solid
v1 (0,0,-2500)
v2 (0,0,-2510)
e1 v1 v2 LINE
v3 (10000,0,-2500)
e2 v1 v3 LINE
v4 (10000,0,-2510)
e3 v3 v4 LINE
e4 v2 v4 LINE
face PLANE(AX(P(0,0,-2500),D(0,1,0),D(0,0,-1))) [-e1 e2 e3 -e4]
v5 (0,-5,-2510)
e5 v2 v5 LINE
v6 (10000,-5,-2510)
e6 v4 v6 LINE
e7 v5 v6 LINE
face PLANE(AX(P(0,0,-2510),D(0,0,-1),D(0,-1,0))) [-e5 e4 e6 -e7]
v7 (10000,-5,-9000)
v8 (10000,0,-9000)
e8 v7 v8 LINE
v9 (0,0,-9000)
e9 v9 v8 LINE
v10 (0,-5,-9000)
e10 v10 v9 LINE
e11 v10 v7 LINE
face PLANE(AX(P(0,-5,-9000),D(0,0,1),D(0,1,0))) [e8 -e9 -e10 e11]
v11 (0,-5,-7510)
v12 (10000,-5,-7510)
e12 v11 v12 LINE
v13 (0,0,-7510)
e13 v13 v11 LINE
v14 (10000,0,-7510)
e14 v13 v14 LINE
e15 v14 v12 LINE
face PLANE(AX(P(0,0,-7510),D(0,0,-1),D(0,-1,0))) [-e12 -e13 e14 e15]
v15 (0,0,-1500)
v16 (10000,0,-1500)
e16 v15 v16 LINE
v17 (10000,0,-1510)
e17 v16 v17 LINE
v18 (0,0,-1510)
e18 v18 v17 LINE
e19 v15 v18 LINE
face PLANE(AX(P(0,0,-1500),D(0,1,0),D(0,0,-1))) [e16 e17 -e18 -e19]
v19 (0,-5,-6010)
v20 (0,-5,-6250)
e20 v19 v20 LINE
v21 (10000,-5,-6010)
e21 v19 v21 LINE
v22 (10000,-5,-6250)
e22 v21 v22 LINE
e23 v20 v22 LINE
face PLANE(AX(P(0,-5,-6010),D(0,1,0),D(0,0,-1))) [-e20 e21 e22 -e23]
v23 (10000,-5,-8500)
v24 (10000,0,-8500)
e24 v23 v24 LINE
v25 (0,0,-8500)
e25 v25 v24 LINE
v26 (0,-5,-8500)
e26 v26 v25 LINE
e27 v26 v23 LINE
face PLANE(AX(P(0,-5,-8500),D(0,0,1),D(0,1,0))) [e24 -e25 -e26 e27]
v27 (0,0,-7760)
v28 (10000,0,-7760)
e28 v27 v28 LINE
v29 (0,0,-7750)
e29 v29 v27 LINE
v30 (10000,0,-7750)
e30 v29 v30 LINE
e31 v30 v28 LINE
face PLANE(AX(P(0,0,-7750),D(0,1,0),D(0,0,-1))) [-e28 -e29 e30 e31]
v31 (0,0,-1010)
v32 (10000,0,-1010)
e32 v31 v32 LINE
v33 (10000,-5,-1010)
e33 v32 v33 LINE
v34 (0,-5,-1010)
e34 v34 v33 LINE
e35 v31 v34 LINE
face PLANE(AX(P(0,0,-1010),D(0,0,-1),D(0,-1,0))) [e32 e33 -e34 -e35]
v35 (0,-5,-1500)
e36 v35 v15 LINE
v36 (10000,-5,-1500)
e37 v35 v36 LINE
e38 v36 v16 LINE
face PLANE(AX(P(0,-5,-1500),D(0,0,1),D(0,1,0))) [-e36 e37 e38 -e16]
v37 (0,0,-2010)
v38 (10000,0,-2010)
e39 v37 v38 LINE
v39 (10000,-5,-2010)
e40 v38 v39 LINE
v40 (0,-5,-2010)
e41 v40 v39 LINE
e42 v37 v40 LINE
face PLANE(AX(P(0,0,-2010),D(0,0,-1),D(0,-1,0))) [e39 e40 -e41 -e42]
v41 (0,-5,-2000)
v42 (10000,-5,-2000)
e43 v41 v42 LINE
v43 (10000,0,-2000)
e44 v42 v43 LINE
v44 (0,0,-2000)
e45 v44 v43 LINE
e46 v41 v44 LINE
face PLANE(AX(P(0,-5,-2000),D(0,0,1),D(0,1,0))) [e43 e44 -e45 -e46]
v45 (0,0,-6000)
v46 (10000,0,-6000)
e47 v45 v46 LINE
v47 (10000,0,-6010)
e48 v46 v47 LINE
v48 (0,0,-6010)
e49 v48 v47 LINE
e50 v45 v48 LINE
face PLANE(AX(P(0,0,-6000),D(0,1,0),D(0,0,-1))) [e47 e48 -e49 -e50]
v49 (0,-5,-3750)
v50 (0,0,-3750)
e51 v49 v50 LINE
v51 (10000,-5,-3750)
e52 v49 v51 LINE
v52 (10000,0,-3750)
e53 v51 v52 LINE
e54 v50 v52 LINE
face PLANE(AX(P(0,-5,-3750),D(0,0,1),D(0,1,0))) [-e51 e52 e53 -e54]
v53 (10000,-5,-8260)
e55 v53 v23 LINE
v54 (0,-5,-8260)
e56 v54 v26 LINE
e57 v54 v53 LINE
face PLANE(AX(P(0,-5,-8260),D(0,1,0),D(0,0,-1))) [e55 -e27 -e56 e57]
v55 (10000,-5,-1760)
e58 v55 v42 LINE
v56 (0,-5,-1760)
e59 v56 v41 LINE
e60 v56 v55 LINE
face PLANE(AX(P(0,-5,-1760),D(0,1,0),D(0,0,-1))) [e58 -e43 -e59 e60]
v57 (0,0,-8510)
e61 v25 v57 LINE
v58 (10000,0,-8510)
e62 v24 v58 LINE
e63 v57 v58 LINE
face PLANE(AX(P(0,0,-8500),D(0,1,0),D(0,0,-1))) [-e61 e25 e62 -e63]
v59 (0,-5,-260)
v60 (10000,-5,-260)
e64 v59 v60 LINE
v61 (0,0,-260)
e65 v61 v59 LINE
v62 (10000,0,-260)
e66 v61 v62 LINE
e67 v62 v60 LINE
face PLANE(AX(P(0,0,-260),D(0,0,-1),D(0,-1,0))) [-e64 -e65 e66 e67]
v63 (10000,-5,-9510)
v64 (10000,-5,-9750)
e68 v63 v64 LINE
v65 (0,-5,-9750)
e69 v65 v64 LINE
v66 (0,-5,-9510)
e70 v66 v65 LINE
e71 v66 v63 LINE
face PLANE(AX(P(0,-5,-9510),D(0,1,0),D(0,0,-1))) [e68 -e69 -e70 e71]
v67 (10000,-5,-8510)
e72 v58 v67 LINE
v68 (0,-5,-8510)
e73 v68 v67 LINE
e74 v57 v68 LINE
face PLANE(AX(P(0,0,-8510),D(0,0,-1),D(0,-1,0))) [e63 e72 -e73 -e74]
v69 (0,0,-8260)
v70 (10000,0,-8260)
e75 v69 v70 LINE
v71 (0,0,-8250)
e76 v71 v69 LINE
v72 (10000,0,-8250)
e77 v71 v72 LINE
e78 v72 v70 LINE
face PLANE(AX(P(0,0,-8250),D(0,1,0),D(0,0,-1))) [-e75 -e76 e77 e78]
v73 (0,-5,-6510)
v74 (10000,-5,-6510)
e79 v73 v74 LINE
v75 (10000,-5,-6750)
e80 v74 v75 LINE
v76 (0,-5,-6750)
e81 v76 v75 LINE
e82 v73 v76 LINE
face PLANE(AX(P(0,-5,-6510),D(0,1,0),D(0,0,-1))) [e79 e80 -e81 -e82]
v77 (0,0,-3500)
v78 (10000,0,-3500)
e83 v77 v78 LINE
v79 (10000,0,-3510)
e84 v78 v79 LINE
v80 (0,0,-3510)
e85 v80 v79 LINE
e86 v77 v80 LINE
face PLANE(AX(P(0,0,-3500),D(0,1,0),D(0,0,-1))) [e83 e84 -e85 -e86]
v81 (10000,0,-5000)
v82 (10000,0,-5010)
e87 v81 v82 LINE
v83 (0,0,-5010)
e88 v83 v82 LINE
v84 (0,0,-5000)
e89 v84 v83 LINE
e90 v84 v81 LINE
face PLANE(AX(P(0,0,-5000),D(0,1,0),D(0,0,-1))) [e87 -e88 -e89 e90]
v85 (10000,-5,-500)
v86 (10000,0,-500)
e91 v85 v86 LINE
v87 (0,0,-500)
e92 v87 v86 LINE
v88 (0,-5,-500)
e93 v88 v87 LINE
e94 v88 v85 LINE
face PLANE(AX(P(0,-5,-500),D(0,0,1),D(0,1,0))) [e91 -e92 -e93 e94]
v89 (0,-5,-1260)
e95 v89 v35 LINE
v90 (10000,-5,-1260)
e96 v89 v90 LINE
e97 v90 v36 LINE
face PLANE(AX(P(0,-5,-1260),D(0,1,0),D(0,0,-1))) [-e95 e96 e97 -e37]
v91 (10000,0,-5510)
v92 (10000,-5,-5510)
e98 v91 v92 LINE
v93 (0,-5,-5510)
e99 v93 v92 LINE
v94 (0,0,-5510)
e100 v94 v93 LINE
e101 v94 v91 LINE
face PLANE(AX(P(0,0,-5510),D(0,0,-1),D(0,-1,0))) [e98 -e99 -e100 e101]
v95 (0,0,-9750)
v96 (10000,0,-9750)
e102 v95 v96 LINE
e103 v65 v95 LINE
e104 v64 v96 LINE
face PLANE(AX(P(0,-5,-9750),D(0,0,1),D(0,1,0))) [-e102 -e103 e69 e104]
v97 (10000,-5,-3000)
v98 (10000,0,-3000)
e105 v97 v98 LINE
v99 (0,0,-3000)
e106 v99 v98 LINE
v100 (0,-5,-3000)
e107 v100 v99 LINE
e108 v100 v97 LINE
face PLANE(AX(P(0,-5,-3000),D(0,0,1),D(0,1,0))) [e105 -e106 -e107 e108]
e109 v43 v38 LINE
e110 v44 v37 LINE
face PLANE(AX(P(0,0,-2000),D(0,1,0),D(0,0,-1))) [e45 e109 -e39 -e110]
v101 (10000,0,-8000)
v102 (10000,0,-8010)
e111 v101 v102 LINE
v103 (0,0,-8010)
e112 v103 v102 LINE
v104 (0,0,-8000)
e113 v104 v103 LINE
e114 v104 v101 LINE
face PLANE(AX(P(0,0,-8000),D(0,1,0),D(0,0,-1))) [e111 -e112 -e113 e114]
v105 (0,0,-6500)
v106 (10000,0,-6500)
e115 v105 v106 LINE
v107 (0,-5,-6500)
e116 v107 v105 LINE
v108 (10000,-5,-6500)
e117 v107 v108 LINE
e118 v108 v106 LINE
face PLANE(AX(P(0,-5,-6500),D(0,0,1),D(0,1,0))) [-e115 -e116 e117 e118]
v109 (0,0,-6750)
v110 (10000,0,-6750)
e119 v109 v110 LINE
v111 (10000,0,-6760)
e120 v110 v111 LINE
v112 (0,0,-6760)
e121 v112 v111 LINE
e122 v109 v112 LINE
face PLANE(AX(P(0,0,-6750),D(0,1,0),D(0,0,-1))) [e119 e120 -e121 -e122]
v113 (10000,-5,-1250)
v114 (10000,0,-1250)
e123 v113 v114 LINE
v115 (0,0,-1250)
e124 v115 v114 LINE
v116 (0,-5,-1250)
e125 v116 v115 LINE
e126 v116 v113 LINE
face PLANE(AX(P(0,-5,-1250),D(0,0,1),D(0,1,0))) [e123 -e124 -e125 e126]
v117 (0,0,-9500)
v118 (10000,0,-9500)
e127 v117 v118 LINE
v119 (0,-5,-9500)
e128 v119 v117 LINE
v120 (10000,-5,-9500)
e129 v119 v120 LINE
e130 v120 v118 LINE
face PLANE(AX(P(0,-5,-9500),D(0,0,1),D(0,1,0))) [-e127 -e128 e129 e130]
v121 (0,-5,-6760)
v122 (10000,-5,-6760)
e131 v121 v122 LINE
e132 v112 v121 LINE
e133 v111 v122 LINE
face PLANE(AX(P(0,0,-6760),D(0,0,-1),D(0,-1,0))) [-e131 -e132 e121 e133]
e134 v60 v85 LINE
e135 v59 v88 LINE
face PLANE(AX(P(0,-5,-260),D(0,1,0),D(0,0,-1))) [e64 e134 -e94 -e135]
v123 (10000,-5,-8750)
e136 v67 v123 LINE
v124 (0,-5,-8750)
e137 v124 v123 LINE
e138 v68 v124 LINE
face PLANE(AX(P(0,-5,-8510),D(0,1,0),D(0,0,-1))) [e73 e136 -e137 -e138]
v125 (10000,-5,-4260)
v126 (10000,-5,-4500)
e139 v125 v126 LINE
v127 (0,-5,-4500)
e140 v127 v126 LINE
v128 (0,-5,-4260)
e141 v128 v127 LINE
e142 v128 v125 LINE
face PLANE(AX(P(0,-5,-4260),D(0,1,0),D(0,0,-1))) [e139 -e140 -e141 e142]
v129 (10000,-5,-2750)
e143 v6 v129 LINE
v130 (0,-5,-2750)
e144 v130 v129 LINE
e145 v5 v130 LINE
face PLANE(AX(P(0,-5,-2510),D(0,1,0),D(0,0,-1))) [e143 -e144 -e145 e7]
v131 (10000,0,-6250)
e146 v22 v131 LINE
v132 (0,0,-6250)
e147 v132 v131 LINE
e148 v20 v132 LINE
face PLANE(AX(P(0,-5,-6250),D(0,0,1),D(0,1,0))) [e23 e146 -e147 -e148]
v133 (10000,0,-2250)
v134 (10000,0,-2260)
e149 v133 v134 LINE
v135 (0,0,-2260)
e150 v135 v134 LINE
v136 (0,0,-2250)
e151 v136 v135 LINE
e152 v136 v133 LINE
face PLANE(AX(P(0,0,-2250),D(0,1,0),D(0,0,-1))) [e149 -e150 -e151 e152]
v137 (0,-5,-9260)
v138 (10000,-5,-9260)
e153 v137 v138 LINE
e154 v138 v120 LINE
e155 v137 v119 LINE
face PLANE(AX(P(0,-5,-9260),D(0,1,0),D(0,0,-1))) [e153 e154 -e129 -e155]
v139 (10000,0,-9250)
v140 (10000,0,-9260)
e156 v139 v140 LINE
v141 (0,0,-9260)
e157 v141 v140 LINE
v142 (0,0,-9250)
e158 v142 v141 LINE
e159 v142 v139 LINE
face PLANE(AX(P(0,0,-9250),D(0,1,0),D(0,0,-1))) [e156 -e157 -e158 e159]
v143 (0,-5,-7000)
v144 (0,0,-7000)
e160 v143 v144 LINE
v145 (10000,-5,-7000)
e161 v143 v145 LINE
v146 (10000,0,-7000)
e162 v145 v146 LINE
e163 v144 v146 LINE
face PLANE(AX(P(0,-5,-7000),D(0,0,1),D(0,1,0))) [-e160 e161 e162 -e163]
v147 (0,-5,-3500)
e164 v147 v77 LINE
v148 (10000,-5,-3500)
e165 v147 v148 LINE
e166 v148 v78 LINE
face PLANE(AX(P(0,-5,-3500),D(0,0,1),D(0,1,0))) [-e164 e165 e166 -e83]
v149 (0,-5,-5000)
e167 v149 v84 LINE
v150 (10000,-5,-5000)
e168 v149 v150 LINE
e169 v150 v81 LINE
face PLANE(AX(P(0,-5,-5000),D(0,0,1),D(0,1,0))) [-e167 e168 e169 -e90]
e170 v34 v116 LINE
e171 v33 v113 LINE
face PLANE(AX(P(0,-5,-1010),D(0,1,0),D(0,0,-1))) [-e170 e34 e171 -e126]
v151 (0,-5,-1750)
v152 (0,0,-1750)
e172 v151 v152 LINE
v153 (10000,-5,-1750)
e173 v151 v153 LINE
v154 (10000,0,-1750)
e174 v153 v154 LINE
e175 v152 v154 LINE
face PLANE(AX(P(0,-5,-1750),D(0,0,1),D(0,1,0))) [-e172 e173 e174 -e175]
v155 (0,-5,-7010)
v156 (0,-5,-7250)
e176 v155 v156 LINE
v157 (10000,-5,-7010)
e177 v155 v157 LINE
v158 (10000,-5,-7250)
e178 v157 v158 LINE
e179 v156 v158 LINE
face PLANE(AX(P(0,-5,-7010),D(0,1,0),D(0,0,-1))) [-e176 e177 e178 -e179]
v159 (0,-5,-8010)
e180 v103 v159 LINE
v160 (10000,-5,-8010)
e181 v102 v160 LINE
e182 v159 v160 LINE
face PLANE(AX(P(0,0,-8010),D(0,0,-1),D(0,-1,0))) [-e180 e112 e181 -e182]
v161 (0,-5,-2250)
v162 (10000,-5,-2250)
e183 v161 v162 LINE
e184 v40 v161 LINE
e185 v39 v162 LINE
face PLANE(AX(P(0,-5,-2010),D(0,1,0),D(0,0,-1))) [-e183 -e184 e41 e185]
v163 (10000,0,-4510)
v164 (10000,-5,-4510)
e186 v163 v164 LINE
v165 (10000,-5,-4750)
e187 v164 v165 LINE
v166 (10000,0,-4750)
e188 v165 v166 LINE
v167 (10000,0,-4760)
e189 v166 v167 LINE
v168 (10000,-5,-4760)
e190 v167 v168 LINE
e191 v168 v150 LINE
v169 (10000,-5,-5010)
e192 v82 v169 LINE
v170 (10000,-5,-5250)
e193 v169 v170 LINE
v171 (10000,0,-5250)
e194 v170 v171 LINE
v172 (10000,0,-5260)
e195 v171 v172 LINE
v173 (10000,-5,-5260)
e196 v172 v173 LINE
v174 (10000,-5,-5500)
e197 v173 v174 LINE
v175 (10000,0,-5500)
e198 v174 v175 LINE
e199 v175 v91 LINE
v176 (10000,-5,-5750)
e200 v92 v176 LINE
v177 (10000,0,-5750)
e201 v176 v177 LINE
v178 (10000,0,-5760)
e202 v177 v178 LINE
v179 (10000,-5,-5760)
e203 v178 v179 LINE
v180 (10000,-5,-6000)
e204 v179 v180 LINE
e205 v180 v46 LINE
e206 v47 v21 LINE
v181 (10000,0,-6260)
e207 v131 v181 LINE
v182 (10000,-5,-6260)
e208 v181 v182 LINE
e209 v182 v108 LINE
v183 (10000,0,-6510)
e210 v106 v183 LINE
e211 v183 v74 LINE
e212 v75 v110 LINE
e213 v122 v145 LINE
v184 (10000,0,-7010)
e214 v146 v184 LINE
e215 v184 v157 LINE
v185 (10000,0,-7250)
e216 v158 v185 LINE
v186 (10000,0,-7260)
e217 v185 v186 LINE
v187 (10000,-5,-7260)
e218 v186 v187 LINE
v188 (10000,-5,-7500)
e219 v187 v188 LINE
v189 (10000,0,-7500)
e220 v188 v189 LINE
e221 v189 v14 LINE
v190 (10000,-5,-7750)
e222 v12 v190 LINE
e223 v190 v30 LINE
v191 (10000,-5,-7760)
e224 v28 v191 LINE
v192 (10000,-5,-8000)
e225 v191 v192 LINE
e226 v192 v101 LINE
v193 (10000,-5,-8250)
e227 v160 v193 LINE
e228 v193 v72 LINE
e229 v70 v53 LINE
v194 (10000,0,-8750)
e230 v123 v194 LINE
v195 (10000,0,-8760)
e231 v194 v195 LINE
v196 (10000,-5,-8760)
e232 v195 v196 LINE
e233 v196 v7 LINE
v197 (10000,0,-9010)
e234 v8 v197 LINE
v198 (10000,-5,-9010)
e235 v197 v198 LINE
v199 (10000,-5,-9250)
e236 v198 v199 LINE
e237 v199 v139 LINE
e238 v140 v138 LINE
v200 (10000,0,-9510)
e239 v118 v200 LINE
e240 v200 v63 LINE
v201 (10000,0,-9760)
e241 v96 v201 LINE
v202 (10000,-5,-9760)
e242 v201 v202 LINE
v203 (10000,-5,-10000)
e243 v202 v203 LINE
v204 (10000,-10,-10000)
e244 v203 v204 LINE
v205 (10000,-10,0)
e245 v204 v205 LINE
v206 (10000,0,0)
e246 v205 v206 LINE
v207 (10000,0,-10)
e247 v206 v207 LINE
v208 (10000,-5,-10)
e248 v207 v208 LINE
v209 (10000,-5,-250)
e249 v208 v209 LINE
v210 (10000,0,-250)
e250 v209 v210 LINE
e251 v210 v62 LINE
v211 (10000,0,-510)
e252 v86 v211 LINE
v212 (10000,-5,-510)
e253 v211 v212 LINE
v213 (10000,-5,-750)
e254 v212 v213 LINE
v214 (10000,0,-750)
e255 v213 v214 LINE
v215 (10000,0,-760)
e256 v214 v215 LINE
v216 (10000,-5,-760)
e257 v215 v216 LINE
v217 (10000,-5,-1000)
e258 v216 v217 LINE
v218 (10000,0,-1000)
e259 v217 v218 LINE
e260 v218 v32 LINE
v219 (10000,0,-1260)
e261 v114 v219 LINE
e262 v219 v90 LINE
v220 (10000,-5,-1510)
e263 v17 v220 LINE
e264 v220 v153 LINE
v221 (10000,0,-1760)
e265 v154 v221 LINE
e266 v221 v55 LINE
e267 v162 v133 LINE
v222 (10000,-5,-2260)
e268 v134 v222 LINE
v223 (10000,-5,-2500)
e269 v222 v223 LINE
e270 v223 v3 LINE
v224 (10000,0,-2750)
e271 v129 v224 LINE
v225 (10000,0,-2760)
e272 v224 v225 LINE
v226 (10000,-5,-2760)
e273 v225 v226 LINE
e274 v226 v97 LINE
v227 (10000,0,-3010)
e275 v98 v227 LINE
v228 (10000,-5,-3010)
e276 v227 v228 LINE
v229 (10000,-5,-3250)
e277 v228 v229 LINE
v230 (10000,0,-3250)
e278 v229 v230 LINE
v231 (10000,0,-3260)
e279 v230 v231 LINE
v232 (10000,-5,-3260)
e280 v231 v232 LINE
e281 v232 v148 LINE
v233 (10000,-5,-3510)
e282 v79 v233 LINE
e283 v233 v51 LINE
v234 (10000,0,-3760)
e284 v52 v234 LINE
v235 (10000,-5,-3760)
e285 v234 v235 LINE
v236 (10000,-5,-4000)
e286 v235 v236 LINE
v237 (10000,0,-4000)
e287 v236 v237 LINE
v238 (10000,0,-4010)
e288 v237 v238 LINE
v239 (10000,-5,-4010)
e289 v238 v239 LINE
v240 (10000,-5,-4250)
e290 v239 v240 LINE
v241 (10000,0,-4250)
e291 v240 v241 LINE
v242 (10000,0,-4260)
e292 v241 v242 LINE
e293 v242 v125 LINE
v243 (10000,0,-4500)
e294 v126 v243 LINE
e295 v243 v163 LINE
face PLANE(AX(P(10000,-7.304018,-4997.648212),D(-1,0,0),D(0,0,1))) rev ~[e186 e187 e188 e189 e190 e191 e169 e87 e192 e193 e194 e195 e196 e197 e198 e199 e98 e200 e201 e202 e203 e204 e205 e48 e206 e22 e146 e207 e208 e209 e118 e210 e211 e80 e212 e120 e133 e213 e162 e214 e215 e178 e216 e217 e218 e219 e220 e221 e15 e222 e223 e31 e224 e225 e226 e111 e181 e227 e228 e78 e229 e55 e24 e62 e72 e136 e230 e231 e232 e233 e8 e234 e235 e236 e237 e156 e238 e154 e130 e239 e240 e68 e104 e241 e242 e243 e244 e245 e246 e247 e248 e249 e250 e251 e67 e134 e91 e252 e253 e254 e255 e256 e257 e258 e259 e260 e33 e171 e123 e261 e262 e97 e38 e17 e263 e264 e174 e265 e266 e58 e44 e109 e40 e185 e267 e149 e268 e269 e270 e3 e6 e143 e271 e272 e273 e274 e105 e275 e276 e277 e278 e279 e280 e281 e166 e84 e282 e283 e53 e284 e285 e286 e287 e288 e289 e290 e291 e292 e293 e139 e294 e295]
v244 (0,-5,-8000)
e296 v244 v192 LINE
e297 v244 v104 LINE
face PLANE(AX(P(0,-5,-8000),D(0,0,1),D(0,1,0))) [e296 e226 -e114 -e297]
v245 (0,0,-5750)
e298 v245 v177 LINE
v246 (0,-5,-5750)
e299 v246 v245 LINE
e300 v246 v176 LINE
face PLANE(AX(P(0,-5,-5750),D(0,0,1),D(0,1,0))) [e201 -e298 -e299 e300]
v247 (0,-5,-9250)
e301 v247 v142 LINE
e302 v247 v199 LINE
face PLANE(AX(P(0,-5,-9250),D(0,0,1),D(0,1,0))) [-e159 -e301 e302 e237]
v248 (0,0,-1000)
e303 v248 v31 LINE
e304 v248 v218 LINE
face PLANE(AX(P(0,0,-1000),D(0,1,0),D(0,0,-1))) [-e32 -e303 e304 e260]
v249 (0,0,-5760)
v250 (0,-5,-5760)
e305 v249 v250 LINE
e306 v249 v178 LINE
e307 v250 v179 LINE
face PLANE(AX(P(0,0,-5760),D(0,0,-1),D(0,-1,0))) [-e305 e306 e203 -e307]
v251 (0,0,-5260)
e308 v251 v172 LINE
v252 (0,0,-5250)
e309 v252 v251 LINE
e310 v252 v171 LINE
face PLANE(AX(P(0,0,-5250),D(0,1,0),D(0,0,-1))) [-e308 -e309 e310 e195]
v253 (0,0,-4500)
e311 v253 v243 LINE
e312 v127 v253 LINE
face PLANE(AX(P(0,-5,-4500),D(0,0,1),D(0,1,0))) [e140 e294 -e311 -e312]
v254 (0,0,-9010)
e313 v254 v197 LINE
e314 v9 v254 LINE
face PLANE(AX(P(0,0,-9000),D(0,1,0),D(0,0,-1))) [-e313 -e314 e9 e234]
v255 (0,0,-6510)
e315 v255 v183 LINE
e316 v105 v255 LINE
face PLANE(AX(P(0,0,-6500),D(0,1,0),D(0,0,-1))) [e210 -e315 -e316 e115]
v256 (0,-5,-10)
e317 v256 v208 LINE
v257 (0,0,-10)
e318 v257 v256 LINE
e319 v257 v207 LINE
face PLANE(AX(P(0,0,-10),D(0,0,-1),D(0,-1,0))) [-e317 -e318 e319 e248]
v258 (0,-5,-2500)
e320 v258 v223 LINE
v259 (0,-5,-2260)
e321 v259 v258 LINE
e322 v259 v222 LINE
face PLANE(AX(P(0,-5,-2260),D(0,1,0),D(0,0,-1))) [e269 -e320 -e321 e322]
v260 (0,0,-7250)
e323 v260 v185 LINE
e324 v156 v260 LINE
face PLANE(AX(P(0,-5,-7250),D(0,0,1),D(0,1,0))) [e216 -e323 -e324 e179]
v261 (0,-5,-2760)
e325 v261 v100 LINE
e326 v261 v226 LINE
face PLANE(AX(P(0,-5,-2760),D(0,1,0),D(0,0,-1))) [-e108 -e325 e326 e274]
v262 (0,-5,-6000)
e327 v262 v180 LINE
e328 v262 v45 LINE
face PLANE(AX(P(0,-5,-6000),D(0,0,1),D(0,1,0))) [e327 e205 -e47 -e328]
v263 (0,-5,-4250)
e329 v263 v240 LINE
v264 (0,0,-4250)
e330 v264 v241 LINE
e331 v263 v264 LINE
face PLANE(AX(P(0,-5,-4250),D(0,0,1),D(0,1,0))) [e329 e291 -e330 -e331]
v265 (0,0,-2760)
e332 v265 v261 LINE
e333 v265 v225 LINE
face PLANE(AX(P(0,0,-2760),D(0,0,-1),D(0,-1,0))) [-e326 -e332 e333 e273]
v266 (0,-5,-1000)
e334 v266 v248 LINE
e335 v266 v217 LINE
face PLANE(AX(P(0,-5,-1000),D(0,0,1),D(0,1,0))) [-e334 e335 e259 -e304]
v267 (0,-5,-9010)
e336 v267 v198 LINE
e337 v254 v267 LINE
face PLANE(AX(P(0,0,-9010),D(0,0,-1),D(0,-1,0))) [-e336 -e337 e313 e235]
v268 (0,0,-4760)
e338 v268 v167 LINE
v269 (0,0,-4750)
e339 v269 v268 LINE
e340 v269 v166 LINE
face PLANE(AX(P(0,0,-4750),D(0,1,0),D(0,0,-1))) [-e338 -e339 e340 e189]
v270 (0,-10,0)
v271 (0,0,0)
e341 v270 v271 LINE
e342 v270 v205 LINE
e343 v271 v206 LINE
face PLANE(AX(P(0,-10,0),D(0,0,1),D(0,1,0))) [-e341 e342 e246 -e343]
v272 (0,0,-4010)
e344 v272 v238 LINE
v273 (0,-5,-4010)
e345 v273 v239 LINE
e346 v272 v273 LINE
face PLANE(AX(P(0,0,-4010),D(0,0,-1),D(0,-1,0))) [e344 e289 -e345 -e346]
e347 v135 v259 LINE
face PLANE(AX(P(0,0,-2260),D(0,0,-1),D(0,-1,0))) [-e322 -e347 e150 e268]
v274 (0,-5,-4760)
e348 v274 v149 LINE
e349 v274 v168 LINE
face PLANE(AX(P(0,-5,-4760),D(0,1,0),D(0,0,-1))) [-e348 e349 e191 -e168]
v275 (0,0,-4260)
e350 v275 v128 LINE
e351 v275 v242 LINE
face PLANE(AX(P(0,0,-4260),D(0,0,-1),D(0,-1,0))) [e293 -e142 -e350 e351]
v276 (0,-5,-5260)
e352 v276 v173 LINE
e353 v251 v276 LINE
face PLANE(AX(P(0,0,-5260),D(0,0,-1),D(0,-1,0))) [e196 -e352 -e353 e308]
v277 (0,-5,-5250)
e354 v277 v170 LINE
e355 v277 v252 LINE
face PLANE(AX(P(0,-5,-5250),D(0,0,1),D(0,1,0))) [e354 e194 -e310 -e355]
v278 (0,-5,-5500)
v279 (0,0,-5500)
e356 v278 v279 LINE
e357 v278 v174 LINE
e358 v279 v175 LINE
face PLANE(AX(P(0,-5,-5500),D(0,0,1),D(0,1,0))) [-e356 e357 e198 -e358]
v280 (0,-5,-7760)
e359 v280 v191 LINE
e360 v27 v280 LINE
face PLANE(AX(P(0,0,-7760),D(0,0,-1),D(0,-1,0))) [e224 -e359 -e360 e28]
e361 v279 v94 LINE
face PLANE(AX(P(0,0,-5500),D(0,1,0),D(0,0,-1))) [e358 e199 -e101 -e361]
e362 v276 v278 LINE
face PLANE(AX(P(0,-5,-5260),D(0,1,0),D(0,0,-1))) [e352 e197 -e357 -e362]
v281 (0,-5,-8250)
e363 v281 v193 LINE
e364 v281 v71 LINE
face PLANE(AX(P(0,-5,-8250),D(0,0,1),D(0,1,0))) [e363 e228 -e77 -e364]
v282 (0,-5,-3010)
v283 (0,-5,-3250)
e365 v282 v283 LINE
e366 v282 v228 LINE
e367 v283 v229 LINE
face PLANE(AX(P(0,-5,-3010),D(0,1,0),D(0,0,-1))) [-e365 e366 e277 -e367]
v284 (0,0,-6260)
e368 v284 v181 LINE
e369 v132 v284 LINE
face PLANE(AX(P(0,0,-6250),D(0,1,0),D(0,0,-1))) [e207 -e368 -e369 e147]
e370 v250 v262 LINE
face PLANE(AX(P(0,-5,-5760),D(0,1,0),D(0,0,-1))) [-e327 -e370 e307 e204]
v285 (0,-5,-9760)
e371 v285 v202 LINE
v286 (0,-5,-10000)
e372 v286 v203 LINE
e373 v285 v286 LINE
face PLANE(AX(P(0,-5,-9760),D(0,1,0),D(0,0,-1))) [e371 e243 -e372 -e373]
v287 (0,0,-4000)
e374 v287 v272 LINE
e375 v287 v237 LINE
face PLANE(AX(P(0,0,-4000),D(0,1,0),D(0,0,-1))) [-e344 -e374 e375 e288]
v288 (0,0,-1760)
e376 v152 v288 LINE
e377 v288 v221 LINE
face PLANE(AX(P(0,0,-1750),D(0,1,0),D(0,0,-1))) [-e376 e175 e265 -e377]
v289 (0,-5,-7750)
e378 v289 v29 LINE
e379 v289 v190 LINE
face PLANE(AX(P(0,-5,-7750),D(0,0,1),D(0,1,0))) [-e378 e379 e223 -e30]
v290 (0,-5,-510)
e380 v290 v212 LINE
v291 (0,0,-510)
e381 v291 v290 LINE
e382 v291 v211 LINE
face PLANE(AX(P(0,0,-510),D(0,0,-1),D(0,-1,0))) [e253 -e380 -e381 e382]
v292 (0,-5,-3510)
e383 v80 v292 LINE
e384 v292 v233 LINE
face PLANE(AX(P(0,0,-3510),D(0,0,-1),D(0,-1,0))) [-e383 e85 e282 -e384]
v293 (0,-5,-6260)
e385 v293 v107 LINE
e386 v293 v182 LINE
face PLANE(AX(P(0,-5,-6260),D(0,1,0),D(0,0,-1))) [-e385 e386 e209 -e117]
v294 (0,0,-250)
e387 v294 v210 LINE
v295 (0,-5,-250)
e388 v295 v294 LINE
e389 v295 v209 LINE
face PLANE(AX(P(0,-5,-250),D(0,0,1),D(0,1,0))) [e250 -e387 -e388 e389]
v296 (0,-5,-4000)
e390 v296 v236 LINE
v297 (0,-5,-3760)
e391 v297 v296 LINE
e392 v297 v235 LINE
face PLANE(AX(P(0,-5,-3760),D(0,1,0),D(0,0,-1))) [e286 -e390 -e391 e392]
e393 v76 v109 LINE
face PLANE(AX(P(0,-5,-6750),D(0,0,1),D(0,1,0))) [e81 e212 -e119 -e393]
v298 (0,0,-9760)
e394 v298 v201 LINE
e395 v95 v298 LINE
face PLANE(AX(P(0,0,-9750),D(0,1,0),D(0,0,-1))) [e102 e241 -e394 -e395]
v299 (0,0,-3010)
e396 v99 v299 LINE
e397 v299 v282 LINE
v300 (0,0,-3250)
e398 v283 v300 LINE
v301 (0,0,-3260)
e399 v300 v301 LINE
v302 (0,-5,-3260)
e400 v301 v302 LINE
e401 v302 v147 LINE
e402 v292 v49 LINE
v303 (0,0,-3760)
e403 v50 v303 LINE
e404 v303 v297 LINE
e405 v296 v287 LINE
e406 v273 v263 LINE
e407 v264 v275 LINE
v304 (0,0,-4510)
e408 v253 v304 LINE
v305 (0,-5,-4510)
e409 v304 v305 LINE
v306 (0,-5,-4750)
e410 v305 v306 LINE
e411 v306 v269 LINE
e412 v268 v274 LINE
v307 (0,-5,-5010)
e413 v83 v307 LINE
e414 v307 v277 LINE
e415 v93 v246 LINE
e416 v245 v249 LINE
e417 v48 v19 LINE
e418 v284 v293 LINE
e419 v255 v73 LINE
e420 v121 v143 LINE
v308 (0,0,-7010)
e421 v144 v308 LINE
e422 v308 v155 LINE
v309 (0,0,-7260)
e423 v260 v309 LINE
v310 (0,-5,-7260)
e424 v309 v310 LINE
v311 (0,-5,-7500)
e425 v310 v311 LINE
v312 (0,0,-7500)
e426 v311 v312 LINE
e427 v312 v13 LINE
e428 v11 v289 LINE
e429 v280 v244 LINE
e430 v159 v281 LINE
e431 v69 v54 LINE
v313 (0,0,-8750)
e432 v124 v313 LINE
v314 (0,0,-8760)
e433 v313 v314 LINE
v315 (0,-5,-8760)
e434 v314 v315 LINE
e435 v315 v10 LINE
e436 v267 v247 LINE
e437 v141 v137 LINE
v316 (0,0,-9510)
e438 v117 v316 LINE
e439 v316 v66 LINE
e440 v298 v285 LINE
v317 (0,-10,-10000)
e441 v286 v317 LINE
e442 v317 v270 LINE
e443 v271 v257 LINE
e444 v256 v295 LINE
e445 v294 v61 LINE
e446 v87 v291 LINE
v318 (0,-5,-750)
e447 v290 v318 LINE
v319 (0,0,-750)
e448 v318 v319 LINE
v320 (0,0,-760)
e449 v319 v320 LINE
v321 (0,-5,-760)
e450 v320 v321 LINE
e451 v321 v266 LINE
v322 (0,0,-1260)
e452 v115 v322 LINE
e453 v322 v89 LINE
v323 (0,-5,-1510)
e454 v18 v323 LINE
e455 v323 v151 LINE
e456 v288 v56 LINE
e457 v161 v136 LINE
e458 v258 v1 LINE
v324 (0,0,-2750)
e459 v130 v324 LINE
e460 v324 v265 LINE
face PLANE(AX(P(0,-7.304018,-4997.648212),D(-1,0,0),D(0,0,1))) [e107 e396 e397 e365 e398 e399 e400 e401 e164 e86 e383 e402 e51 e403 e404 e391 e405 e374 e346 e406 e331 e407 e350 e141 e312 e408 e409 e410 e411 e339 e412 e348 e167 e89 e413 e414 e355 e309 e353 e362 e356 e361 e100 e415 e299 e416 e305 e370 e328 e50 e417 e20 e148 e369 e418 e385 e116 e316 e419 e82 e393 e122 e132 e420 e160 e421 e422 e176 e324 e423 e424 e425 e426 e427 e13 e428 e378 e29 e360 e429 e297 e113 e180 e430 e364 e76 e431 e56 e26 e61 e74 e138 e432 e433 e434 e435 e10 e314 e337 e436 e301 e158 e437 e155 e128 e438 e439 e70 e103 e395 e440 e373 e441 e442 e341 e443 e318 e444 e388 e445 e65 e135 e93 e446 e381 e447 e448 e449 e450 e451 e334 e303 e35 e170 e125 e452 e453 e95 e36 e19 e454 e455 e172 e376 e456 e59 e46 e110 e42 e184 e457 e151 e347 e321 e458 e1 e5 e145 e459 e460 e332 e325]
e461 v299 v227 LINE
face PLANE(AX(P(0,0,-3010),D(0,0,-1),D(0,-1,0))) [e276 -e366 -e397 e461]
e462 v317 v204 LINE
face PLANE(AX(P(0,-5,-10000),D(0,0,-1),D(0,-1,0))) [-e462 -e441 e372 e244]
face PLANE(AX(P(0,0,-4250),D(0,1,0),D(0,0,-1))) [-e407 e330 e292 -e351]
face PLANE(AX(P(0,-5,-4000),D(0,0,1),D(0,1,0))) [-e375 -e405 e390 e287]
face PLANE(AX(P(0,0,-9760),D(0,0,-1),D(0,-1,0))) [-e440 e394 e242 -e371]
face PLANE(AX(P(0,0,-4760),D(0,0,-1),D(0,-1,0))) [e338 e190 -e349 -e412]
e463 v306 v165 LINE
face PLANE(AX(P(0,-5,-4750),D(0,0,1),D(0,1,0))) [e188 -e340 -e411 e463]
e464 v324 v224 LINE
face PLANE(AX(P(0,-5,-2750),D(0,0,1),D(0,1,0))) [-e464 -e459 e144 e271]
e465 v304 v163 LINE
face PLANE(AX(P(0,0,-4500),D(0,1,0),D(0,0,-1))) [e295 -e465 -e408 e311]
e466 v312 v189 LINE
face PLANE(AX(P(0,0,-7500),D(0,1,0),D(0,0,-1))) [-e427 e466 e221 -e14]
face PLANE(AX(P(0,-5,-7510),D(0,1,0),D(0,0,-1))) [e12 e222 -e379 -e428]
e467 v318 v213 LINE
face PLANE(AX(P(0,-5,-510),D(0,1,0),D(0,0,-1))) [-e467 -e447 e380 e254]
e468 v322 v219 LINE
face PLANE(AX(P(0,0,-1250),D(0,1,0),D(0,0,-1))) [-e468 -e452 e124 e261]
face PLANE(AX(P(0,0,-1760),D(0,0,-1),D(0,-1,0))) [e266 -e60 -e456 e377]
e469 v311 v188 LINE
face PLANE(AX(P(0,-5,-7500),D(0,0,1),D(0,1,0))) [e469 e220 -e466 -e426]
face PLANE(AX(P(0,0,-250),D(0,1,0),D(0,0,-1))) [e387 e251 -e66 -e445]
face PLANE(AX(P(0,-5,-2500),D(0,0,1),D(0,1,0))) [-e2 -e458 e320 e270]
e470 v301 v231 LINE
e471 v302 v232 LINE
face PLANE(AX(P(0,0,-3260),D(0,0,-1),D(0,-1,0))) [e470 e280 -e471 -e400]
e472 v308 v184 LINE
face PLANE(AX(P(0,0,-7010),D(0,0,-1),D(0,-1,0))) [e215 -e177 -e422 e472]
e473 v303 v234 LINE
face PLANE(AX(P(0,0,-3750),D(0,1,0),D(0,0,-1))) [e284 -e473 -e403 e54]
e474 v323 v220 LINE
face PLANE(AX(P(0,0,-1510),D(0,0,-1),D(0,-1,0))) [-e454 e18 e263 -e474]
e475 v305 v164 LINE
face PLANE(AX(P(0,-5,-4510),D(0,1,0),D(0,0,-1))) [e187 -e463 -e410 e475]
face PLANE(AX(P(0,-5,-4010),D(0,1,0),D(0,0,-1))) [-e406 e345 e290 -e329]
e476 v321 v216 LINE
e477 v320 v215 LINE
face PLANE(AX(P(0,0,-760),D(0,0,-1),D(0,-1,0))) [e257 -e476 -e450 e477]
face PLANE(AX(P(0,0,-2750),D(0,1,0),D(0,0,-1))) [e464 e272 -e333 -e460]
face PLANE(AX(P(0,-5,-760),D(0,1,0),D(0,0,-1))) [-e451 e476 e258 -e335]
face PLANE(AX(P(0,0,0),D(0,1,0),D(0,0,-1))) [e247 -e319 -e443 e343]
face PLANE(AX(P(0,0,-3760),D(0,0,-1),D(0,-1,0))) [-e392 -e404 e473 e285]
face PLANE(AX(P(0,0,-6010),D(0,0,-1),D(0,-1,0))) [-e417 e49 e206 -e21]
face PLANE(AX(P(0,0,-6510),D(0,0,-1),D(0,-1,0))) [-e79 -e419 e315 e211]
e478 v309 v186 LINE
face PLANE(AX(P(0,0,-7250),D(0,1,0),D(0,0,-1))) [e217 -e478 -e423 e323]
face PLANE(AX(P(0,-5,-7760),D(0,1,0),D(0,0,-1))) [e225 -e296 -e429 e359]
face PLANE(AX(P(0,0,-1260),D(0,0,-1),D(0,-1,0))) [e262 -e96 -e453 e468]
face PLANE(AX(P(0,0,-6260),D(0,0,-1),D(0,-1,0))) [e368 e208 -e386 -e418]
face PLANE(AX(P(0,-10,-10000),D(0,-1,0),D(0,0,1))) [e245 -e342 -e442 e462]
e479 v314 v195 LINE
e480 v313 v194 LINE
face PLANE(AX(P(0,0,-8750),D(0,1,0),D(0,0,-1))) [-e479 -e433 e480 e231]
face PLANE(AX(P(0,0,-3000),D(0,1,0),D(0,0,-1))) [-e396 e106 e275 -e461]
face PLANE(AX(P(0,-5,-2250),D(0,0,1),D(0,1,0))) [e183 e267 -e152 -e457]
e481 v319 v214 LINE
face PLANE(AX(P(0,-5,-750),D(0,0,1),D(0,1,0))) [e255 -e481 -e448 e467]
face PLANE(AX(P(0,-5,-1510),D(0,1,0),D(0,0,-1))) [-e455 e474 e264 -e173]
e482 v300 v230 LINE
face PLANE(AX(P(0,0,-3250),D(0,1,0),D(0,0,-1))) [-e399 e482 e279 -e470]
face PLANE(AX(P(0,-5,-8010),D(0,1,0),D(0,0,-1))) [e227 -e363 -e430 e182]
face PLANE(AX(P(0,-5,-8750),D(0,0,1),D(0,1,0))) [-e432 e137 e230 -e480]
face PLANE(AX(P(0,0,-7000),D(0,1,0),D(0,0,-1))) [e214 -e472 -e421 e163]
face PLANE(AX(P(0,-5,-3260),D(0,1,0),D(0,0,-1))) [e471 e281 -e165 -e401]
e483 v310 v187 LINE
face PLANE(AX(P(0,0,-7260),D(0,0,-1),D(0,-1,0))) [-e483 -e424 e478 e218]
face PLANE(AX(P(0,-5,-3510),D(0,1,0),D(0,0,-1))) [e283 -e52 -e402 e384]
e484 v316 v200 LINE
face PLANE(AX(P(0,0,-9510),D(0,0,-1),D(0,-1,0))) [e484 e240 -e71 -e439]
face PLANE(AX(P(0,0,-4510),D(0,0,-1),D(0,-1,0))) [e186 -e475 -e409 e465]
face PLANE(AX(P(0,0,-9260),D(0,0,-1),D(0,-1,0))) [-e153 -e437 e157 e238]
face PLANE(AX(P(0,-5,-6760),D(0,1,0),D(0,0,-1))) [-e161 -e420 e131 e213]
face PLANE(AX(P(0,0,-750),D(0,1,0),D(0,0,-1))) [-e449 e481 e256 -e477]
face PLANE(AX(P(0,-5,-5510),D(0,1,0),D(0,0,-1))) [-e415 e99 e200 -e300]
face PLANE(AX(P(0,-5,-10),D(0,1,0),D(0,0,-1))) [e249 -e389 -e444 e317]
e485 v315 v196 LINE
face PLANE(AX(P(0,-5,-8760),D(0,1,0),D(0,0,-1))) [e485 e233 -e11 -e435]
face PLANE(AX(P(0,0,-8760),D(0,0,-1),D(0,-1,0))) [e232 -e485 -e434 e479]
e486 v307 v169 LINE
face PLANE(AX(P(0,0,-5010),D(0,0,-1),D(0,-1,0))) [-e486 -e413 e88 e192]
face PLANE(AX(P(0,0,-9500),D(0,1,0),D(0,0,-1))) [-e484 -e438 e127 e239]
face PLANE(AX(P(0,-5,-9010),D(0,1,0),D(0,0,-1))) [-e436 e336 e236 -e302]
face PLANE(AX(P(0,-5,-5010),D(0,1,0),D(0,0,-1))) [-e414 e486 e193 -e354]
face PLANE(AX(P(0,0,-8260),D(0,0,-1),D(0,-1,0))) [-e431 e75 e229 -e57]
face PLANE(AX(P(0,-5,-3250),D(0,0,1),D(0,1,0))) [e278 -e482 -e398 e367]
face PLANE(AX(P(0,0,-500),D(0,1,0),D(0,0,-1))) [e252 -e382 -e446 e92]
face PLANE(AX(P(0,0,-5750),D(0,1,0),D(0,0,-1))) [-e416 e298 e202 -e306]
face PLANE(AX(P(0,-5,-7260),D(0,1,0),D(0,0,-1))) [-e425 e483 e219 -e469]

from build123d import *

# Parameters (mm, degrees)
EXTRUDE_1_DEPTH = 10000


with BuildPart() as part:
    # 草图1 → 凸台-拉伸1 (new body)
    with BuildSketch(Plane(origin=(0, 0, 0), x_dir=(0, 0, -1), z_dir=(1, 0, 0))):
        Polygon((0, 0), (10, 0), (10, -5), (250, -5), (250, 0), (260, 0), (260, -5), (500, -5), (500, 0), (510, 0), (510, -5), (750, -5), (750, 0), (760, 0), (760, -5), (1000, -5), (1000, 0), (1010, 0), (1010, -5), (1250, -5), (1250, 0), (1260, 0), (1260, -5), (1500, -5), (1500, 0), (1510, 0), (1510, -5), (1750, -5), (1750, 0), (1760, 0), (1760, -5), (2000, -5), (2000, 0), (2010, 0), (2010, -5), (2250, -5), (2250, 0), (2260, 0), (2260, -5), (2500, -5), (2500, 0), (2510, 0), (2510, -5), (2750, -5), (2750, 0), (2760, 0), (2760, -5), (3000, -5), (3000, 0), (3010, 0), (3010, -5), (3250, -5), (3250, 0), (3260, 0), (3260, -5), (3500, -5), (3500, 0), (3510, 0), (3510, -5), (3750, -5), (3750, 0), (3760, 0), (3760, -5), (4000, -5), (4000, 0), (4010, 0), (4010, -5), (4250, -5), (4250, 0), (4260, 0), (4260, -5), (4500, -5), (4500, 0), (4510, 0), (4510, -5), (4750, -5), (4750, 0), (4760, 0), (4760, -5), (5000, -5), (5000, 0), (5010, 0), (5010, -5), (5250, -5), (5250, 0), (5260, 0), (5260, -5), (5500, -5), (5500, 0), (5510, 0), (5510, -5), (5750, -5), (5750, 0), (5760, 0), (5760, -5), (6000, -5), (6000, 0), (6010, 0), (6010, -5), (6250, -5), (6250, 0), (6260, 0), (6260, -5), (6500, -5), (6500, 0), (6510, 0), (6510, -5), (6750, -5), (6750, 0), (6760, 0), (6760, -5), (7000, -5), (7000, 0), (7010, 0), (7010, -5), (7250, -5), (7250, 0), (7260, 0), (7260, -5), (7500, -5), (7500, 0), (7510, 0), (7510, -5), (7750, -5), (7750, 0), (7760, 0), (7760, -5), (8000, -5), (8000, 0), (8010, 0), (8010, -5), (8250, -5), (8250, 0), (8260, 0), (8260, -5), (8500, -5), (8500, 0), (8510, 0), (8510, -5), (8750, -5), (8750, 0), (8760, 0), (8760, -5), (9000, -5), (9000, 0), (9010, 0), (9010, -5), (9250, -5), (9250, 0), (9260, 0), (9260, -5), (9500, -5), (9500, 0), (9510, 0), (9510, -5), (9750, -5), (9750, 0), (9760, 0), (9760, -5), (10000, -5), (10000, -10), (0, -10), align=None)
    extrude(amount=EXTRUDE_1_DEPTH)


solid = part.part
